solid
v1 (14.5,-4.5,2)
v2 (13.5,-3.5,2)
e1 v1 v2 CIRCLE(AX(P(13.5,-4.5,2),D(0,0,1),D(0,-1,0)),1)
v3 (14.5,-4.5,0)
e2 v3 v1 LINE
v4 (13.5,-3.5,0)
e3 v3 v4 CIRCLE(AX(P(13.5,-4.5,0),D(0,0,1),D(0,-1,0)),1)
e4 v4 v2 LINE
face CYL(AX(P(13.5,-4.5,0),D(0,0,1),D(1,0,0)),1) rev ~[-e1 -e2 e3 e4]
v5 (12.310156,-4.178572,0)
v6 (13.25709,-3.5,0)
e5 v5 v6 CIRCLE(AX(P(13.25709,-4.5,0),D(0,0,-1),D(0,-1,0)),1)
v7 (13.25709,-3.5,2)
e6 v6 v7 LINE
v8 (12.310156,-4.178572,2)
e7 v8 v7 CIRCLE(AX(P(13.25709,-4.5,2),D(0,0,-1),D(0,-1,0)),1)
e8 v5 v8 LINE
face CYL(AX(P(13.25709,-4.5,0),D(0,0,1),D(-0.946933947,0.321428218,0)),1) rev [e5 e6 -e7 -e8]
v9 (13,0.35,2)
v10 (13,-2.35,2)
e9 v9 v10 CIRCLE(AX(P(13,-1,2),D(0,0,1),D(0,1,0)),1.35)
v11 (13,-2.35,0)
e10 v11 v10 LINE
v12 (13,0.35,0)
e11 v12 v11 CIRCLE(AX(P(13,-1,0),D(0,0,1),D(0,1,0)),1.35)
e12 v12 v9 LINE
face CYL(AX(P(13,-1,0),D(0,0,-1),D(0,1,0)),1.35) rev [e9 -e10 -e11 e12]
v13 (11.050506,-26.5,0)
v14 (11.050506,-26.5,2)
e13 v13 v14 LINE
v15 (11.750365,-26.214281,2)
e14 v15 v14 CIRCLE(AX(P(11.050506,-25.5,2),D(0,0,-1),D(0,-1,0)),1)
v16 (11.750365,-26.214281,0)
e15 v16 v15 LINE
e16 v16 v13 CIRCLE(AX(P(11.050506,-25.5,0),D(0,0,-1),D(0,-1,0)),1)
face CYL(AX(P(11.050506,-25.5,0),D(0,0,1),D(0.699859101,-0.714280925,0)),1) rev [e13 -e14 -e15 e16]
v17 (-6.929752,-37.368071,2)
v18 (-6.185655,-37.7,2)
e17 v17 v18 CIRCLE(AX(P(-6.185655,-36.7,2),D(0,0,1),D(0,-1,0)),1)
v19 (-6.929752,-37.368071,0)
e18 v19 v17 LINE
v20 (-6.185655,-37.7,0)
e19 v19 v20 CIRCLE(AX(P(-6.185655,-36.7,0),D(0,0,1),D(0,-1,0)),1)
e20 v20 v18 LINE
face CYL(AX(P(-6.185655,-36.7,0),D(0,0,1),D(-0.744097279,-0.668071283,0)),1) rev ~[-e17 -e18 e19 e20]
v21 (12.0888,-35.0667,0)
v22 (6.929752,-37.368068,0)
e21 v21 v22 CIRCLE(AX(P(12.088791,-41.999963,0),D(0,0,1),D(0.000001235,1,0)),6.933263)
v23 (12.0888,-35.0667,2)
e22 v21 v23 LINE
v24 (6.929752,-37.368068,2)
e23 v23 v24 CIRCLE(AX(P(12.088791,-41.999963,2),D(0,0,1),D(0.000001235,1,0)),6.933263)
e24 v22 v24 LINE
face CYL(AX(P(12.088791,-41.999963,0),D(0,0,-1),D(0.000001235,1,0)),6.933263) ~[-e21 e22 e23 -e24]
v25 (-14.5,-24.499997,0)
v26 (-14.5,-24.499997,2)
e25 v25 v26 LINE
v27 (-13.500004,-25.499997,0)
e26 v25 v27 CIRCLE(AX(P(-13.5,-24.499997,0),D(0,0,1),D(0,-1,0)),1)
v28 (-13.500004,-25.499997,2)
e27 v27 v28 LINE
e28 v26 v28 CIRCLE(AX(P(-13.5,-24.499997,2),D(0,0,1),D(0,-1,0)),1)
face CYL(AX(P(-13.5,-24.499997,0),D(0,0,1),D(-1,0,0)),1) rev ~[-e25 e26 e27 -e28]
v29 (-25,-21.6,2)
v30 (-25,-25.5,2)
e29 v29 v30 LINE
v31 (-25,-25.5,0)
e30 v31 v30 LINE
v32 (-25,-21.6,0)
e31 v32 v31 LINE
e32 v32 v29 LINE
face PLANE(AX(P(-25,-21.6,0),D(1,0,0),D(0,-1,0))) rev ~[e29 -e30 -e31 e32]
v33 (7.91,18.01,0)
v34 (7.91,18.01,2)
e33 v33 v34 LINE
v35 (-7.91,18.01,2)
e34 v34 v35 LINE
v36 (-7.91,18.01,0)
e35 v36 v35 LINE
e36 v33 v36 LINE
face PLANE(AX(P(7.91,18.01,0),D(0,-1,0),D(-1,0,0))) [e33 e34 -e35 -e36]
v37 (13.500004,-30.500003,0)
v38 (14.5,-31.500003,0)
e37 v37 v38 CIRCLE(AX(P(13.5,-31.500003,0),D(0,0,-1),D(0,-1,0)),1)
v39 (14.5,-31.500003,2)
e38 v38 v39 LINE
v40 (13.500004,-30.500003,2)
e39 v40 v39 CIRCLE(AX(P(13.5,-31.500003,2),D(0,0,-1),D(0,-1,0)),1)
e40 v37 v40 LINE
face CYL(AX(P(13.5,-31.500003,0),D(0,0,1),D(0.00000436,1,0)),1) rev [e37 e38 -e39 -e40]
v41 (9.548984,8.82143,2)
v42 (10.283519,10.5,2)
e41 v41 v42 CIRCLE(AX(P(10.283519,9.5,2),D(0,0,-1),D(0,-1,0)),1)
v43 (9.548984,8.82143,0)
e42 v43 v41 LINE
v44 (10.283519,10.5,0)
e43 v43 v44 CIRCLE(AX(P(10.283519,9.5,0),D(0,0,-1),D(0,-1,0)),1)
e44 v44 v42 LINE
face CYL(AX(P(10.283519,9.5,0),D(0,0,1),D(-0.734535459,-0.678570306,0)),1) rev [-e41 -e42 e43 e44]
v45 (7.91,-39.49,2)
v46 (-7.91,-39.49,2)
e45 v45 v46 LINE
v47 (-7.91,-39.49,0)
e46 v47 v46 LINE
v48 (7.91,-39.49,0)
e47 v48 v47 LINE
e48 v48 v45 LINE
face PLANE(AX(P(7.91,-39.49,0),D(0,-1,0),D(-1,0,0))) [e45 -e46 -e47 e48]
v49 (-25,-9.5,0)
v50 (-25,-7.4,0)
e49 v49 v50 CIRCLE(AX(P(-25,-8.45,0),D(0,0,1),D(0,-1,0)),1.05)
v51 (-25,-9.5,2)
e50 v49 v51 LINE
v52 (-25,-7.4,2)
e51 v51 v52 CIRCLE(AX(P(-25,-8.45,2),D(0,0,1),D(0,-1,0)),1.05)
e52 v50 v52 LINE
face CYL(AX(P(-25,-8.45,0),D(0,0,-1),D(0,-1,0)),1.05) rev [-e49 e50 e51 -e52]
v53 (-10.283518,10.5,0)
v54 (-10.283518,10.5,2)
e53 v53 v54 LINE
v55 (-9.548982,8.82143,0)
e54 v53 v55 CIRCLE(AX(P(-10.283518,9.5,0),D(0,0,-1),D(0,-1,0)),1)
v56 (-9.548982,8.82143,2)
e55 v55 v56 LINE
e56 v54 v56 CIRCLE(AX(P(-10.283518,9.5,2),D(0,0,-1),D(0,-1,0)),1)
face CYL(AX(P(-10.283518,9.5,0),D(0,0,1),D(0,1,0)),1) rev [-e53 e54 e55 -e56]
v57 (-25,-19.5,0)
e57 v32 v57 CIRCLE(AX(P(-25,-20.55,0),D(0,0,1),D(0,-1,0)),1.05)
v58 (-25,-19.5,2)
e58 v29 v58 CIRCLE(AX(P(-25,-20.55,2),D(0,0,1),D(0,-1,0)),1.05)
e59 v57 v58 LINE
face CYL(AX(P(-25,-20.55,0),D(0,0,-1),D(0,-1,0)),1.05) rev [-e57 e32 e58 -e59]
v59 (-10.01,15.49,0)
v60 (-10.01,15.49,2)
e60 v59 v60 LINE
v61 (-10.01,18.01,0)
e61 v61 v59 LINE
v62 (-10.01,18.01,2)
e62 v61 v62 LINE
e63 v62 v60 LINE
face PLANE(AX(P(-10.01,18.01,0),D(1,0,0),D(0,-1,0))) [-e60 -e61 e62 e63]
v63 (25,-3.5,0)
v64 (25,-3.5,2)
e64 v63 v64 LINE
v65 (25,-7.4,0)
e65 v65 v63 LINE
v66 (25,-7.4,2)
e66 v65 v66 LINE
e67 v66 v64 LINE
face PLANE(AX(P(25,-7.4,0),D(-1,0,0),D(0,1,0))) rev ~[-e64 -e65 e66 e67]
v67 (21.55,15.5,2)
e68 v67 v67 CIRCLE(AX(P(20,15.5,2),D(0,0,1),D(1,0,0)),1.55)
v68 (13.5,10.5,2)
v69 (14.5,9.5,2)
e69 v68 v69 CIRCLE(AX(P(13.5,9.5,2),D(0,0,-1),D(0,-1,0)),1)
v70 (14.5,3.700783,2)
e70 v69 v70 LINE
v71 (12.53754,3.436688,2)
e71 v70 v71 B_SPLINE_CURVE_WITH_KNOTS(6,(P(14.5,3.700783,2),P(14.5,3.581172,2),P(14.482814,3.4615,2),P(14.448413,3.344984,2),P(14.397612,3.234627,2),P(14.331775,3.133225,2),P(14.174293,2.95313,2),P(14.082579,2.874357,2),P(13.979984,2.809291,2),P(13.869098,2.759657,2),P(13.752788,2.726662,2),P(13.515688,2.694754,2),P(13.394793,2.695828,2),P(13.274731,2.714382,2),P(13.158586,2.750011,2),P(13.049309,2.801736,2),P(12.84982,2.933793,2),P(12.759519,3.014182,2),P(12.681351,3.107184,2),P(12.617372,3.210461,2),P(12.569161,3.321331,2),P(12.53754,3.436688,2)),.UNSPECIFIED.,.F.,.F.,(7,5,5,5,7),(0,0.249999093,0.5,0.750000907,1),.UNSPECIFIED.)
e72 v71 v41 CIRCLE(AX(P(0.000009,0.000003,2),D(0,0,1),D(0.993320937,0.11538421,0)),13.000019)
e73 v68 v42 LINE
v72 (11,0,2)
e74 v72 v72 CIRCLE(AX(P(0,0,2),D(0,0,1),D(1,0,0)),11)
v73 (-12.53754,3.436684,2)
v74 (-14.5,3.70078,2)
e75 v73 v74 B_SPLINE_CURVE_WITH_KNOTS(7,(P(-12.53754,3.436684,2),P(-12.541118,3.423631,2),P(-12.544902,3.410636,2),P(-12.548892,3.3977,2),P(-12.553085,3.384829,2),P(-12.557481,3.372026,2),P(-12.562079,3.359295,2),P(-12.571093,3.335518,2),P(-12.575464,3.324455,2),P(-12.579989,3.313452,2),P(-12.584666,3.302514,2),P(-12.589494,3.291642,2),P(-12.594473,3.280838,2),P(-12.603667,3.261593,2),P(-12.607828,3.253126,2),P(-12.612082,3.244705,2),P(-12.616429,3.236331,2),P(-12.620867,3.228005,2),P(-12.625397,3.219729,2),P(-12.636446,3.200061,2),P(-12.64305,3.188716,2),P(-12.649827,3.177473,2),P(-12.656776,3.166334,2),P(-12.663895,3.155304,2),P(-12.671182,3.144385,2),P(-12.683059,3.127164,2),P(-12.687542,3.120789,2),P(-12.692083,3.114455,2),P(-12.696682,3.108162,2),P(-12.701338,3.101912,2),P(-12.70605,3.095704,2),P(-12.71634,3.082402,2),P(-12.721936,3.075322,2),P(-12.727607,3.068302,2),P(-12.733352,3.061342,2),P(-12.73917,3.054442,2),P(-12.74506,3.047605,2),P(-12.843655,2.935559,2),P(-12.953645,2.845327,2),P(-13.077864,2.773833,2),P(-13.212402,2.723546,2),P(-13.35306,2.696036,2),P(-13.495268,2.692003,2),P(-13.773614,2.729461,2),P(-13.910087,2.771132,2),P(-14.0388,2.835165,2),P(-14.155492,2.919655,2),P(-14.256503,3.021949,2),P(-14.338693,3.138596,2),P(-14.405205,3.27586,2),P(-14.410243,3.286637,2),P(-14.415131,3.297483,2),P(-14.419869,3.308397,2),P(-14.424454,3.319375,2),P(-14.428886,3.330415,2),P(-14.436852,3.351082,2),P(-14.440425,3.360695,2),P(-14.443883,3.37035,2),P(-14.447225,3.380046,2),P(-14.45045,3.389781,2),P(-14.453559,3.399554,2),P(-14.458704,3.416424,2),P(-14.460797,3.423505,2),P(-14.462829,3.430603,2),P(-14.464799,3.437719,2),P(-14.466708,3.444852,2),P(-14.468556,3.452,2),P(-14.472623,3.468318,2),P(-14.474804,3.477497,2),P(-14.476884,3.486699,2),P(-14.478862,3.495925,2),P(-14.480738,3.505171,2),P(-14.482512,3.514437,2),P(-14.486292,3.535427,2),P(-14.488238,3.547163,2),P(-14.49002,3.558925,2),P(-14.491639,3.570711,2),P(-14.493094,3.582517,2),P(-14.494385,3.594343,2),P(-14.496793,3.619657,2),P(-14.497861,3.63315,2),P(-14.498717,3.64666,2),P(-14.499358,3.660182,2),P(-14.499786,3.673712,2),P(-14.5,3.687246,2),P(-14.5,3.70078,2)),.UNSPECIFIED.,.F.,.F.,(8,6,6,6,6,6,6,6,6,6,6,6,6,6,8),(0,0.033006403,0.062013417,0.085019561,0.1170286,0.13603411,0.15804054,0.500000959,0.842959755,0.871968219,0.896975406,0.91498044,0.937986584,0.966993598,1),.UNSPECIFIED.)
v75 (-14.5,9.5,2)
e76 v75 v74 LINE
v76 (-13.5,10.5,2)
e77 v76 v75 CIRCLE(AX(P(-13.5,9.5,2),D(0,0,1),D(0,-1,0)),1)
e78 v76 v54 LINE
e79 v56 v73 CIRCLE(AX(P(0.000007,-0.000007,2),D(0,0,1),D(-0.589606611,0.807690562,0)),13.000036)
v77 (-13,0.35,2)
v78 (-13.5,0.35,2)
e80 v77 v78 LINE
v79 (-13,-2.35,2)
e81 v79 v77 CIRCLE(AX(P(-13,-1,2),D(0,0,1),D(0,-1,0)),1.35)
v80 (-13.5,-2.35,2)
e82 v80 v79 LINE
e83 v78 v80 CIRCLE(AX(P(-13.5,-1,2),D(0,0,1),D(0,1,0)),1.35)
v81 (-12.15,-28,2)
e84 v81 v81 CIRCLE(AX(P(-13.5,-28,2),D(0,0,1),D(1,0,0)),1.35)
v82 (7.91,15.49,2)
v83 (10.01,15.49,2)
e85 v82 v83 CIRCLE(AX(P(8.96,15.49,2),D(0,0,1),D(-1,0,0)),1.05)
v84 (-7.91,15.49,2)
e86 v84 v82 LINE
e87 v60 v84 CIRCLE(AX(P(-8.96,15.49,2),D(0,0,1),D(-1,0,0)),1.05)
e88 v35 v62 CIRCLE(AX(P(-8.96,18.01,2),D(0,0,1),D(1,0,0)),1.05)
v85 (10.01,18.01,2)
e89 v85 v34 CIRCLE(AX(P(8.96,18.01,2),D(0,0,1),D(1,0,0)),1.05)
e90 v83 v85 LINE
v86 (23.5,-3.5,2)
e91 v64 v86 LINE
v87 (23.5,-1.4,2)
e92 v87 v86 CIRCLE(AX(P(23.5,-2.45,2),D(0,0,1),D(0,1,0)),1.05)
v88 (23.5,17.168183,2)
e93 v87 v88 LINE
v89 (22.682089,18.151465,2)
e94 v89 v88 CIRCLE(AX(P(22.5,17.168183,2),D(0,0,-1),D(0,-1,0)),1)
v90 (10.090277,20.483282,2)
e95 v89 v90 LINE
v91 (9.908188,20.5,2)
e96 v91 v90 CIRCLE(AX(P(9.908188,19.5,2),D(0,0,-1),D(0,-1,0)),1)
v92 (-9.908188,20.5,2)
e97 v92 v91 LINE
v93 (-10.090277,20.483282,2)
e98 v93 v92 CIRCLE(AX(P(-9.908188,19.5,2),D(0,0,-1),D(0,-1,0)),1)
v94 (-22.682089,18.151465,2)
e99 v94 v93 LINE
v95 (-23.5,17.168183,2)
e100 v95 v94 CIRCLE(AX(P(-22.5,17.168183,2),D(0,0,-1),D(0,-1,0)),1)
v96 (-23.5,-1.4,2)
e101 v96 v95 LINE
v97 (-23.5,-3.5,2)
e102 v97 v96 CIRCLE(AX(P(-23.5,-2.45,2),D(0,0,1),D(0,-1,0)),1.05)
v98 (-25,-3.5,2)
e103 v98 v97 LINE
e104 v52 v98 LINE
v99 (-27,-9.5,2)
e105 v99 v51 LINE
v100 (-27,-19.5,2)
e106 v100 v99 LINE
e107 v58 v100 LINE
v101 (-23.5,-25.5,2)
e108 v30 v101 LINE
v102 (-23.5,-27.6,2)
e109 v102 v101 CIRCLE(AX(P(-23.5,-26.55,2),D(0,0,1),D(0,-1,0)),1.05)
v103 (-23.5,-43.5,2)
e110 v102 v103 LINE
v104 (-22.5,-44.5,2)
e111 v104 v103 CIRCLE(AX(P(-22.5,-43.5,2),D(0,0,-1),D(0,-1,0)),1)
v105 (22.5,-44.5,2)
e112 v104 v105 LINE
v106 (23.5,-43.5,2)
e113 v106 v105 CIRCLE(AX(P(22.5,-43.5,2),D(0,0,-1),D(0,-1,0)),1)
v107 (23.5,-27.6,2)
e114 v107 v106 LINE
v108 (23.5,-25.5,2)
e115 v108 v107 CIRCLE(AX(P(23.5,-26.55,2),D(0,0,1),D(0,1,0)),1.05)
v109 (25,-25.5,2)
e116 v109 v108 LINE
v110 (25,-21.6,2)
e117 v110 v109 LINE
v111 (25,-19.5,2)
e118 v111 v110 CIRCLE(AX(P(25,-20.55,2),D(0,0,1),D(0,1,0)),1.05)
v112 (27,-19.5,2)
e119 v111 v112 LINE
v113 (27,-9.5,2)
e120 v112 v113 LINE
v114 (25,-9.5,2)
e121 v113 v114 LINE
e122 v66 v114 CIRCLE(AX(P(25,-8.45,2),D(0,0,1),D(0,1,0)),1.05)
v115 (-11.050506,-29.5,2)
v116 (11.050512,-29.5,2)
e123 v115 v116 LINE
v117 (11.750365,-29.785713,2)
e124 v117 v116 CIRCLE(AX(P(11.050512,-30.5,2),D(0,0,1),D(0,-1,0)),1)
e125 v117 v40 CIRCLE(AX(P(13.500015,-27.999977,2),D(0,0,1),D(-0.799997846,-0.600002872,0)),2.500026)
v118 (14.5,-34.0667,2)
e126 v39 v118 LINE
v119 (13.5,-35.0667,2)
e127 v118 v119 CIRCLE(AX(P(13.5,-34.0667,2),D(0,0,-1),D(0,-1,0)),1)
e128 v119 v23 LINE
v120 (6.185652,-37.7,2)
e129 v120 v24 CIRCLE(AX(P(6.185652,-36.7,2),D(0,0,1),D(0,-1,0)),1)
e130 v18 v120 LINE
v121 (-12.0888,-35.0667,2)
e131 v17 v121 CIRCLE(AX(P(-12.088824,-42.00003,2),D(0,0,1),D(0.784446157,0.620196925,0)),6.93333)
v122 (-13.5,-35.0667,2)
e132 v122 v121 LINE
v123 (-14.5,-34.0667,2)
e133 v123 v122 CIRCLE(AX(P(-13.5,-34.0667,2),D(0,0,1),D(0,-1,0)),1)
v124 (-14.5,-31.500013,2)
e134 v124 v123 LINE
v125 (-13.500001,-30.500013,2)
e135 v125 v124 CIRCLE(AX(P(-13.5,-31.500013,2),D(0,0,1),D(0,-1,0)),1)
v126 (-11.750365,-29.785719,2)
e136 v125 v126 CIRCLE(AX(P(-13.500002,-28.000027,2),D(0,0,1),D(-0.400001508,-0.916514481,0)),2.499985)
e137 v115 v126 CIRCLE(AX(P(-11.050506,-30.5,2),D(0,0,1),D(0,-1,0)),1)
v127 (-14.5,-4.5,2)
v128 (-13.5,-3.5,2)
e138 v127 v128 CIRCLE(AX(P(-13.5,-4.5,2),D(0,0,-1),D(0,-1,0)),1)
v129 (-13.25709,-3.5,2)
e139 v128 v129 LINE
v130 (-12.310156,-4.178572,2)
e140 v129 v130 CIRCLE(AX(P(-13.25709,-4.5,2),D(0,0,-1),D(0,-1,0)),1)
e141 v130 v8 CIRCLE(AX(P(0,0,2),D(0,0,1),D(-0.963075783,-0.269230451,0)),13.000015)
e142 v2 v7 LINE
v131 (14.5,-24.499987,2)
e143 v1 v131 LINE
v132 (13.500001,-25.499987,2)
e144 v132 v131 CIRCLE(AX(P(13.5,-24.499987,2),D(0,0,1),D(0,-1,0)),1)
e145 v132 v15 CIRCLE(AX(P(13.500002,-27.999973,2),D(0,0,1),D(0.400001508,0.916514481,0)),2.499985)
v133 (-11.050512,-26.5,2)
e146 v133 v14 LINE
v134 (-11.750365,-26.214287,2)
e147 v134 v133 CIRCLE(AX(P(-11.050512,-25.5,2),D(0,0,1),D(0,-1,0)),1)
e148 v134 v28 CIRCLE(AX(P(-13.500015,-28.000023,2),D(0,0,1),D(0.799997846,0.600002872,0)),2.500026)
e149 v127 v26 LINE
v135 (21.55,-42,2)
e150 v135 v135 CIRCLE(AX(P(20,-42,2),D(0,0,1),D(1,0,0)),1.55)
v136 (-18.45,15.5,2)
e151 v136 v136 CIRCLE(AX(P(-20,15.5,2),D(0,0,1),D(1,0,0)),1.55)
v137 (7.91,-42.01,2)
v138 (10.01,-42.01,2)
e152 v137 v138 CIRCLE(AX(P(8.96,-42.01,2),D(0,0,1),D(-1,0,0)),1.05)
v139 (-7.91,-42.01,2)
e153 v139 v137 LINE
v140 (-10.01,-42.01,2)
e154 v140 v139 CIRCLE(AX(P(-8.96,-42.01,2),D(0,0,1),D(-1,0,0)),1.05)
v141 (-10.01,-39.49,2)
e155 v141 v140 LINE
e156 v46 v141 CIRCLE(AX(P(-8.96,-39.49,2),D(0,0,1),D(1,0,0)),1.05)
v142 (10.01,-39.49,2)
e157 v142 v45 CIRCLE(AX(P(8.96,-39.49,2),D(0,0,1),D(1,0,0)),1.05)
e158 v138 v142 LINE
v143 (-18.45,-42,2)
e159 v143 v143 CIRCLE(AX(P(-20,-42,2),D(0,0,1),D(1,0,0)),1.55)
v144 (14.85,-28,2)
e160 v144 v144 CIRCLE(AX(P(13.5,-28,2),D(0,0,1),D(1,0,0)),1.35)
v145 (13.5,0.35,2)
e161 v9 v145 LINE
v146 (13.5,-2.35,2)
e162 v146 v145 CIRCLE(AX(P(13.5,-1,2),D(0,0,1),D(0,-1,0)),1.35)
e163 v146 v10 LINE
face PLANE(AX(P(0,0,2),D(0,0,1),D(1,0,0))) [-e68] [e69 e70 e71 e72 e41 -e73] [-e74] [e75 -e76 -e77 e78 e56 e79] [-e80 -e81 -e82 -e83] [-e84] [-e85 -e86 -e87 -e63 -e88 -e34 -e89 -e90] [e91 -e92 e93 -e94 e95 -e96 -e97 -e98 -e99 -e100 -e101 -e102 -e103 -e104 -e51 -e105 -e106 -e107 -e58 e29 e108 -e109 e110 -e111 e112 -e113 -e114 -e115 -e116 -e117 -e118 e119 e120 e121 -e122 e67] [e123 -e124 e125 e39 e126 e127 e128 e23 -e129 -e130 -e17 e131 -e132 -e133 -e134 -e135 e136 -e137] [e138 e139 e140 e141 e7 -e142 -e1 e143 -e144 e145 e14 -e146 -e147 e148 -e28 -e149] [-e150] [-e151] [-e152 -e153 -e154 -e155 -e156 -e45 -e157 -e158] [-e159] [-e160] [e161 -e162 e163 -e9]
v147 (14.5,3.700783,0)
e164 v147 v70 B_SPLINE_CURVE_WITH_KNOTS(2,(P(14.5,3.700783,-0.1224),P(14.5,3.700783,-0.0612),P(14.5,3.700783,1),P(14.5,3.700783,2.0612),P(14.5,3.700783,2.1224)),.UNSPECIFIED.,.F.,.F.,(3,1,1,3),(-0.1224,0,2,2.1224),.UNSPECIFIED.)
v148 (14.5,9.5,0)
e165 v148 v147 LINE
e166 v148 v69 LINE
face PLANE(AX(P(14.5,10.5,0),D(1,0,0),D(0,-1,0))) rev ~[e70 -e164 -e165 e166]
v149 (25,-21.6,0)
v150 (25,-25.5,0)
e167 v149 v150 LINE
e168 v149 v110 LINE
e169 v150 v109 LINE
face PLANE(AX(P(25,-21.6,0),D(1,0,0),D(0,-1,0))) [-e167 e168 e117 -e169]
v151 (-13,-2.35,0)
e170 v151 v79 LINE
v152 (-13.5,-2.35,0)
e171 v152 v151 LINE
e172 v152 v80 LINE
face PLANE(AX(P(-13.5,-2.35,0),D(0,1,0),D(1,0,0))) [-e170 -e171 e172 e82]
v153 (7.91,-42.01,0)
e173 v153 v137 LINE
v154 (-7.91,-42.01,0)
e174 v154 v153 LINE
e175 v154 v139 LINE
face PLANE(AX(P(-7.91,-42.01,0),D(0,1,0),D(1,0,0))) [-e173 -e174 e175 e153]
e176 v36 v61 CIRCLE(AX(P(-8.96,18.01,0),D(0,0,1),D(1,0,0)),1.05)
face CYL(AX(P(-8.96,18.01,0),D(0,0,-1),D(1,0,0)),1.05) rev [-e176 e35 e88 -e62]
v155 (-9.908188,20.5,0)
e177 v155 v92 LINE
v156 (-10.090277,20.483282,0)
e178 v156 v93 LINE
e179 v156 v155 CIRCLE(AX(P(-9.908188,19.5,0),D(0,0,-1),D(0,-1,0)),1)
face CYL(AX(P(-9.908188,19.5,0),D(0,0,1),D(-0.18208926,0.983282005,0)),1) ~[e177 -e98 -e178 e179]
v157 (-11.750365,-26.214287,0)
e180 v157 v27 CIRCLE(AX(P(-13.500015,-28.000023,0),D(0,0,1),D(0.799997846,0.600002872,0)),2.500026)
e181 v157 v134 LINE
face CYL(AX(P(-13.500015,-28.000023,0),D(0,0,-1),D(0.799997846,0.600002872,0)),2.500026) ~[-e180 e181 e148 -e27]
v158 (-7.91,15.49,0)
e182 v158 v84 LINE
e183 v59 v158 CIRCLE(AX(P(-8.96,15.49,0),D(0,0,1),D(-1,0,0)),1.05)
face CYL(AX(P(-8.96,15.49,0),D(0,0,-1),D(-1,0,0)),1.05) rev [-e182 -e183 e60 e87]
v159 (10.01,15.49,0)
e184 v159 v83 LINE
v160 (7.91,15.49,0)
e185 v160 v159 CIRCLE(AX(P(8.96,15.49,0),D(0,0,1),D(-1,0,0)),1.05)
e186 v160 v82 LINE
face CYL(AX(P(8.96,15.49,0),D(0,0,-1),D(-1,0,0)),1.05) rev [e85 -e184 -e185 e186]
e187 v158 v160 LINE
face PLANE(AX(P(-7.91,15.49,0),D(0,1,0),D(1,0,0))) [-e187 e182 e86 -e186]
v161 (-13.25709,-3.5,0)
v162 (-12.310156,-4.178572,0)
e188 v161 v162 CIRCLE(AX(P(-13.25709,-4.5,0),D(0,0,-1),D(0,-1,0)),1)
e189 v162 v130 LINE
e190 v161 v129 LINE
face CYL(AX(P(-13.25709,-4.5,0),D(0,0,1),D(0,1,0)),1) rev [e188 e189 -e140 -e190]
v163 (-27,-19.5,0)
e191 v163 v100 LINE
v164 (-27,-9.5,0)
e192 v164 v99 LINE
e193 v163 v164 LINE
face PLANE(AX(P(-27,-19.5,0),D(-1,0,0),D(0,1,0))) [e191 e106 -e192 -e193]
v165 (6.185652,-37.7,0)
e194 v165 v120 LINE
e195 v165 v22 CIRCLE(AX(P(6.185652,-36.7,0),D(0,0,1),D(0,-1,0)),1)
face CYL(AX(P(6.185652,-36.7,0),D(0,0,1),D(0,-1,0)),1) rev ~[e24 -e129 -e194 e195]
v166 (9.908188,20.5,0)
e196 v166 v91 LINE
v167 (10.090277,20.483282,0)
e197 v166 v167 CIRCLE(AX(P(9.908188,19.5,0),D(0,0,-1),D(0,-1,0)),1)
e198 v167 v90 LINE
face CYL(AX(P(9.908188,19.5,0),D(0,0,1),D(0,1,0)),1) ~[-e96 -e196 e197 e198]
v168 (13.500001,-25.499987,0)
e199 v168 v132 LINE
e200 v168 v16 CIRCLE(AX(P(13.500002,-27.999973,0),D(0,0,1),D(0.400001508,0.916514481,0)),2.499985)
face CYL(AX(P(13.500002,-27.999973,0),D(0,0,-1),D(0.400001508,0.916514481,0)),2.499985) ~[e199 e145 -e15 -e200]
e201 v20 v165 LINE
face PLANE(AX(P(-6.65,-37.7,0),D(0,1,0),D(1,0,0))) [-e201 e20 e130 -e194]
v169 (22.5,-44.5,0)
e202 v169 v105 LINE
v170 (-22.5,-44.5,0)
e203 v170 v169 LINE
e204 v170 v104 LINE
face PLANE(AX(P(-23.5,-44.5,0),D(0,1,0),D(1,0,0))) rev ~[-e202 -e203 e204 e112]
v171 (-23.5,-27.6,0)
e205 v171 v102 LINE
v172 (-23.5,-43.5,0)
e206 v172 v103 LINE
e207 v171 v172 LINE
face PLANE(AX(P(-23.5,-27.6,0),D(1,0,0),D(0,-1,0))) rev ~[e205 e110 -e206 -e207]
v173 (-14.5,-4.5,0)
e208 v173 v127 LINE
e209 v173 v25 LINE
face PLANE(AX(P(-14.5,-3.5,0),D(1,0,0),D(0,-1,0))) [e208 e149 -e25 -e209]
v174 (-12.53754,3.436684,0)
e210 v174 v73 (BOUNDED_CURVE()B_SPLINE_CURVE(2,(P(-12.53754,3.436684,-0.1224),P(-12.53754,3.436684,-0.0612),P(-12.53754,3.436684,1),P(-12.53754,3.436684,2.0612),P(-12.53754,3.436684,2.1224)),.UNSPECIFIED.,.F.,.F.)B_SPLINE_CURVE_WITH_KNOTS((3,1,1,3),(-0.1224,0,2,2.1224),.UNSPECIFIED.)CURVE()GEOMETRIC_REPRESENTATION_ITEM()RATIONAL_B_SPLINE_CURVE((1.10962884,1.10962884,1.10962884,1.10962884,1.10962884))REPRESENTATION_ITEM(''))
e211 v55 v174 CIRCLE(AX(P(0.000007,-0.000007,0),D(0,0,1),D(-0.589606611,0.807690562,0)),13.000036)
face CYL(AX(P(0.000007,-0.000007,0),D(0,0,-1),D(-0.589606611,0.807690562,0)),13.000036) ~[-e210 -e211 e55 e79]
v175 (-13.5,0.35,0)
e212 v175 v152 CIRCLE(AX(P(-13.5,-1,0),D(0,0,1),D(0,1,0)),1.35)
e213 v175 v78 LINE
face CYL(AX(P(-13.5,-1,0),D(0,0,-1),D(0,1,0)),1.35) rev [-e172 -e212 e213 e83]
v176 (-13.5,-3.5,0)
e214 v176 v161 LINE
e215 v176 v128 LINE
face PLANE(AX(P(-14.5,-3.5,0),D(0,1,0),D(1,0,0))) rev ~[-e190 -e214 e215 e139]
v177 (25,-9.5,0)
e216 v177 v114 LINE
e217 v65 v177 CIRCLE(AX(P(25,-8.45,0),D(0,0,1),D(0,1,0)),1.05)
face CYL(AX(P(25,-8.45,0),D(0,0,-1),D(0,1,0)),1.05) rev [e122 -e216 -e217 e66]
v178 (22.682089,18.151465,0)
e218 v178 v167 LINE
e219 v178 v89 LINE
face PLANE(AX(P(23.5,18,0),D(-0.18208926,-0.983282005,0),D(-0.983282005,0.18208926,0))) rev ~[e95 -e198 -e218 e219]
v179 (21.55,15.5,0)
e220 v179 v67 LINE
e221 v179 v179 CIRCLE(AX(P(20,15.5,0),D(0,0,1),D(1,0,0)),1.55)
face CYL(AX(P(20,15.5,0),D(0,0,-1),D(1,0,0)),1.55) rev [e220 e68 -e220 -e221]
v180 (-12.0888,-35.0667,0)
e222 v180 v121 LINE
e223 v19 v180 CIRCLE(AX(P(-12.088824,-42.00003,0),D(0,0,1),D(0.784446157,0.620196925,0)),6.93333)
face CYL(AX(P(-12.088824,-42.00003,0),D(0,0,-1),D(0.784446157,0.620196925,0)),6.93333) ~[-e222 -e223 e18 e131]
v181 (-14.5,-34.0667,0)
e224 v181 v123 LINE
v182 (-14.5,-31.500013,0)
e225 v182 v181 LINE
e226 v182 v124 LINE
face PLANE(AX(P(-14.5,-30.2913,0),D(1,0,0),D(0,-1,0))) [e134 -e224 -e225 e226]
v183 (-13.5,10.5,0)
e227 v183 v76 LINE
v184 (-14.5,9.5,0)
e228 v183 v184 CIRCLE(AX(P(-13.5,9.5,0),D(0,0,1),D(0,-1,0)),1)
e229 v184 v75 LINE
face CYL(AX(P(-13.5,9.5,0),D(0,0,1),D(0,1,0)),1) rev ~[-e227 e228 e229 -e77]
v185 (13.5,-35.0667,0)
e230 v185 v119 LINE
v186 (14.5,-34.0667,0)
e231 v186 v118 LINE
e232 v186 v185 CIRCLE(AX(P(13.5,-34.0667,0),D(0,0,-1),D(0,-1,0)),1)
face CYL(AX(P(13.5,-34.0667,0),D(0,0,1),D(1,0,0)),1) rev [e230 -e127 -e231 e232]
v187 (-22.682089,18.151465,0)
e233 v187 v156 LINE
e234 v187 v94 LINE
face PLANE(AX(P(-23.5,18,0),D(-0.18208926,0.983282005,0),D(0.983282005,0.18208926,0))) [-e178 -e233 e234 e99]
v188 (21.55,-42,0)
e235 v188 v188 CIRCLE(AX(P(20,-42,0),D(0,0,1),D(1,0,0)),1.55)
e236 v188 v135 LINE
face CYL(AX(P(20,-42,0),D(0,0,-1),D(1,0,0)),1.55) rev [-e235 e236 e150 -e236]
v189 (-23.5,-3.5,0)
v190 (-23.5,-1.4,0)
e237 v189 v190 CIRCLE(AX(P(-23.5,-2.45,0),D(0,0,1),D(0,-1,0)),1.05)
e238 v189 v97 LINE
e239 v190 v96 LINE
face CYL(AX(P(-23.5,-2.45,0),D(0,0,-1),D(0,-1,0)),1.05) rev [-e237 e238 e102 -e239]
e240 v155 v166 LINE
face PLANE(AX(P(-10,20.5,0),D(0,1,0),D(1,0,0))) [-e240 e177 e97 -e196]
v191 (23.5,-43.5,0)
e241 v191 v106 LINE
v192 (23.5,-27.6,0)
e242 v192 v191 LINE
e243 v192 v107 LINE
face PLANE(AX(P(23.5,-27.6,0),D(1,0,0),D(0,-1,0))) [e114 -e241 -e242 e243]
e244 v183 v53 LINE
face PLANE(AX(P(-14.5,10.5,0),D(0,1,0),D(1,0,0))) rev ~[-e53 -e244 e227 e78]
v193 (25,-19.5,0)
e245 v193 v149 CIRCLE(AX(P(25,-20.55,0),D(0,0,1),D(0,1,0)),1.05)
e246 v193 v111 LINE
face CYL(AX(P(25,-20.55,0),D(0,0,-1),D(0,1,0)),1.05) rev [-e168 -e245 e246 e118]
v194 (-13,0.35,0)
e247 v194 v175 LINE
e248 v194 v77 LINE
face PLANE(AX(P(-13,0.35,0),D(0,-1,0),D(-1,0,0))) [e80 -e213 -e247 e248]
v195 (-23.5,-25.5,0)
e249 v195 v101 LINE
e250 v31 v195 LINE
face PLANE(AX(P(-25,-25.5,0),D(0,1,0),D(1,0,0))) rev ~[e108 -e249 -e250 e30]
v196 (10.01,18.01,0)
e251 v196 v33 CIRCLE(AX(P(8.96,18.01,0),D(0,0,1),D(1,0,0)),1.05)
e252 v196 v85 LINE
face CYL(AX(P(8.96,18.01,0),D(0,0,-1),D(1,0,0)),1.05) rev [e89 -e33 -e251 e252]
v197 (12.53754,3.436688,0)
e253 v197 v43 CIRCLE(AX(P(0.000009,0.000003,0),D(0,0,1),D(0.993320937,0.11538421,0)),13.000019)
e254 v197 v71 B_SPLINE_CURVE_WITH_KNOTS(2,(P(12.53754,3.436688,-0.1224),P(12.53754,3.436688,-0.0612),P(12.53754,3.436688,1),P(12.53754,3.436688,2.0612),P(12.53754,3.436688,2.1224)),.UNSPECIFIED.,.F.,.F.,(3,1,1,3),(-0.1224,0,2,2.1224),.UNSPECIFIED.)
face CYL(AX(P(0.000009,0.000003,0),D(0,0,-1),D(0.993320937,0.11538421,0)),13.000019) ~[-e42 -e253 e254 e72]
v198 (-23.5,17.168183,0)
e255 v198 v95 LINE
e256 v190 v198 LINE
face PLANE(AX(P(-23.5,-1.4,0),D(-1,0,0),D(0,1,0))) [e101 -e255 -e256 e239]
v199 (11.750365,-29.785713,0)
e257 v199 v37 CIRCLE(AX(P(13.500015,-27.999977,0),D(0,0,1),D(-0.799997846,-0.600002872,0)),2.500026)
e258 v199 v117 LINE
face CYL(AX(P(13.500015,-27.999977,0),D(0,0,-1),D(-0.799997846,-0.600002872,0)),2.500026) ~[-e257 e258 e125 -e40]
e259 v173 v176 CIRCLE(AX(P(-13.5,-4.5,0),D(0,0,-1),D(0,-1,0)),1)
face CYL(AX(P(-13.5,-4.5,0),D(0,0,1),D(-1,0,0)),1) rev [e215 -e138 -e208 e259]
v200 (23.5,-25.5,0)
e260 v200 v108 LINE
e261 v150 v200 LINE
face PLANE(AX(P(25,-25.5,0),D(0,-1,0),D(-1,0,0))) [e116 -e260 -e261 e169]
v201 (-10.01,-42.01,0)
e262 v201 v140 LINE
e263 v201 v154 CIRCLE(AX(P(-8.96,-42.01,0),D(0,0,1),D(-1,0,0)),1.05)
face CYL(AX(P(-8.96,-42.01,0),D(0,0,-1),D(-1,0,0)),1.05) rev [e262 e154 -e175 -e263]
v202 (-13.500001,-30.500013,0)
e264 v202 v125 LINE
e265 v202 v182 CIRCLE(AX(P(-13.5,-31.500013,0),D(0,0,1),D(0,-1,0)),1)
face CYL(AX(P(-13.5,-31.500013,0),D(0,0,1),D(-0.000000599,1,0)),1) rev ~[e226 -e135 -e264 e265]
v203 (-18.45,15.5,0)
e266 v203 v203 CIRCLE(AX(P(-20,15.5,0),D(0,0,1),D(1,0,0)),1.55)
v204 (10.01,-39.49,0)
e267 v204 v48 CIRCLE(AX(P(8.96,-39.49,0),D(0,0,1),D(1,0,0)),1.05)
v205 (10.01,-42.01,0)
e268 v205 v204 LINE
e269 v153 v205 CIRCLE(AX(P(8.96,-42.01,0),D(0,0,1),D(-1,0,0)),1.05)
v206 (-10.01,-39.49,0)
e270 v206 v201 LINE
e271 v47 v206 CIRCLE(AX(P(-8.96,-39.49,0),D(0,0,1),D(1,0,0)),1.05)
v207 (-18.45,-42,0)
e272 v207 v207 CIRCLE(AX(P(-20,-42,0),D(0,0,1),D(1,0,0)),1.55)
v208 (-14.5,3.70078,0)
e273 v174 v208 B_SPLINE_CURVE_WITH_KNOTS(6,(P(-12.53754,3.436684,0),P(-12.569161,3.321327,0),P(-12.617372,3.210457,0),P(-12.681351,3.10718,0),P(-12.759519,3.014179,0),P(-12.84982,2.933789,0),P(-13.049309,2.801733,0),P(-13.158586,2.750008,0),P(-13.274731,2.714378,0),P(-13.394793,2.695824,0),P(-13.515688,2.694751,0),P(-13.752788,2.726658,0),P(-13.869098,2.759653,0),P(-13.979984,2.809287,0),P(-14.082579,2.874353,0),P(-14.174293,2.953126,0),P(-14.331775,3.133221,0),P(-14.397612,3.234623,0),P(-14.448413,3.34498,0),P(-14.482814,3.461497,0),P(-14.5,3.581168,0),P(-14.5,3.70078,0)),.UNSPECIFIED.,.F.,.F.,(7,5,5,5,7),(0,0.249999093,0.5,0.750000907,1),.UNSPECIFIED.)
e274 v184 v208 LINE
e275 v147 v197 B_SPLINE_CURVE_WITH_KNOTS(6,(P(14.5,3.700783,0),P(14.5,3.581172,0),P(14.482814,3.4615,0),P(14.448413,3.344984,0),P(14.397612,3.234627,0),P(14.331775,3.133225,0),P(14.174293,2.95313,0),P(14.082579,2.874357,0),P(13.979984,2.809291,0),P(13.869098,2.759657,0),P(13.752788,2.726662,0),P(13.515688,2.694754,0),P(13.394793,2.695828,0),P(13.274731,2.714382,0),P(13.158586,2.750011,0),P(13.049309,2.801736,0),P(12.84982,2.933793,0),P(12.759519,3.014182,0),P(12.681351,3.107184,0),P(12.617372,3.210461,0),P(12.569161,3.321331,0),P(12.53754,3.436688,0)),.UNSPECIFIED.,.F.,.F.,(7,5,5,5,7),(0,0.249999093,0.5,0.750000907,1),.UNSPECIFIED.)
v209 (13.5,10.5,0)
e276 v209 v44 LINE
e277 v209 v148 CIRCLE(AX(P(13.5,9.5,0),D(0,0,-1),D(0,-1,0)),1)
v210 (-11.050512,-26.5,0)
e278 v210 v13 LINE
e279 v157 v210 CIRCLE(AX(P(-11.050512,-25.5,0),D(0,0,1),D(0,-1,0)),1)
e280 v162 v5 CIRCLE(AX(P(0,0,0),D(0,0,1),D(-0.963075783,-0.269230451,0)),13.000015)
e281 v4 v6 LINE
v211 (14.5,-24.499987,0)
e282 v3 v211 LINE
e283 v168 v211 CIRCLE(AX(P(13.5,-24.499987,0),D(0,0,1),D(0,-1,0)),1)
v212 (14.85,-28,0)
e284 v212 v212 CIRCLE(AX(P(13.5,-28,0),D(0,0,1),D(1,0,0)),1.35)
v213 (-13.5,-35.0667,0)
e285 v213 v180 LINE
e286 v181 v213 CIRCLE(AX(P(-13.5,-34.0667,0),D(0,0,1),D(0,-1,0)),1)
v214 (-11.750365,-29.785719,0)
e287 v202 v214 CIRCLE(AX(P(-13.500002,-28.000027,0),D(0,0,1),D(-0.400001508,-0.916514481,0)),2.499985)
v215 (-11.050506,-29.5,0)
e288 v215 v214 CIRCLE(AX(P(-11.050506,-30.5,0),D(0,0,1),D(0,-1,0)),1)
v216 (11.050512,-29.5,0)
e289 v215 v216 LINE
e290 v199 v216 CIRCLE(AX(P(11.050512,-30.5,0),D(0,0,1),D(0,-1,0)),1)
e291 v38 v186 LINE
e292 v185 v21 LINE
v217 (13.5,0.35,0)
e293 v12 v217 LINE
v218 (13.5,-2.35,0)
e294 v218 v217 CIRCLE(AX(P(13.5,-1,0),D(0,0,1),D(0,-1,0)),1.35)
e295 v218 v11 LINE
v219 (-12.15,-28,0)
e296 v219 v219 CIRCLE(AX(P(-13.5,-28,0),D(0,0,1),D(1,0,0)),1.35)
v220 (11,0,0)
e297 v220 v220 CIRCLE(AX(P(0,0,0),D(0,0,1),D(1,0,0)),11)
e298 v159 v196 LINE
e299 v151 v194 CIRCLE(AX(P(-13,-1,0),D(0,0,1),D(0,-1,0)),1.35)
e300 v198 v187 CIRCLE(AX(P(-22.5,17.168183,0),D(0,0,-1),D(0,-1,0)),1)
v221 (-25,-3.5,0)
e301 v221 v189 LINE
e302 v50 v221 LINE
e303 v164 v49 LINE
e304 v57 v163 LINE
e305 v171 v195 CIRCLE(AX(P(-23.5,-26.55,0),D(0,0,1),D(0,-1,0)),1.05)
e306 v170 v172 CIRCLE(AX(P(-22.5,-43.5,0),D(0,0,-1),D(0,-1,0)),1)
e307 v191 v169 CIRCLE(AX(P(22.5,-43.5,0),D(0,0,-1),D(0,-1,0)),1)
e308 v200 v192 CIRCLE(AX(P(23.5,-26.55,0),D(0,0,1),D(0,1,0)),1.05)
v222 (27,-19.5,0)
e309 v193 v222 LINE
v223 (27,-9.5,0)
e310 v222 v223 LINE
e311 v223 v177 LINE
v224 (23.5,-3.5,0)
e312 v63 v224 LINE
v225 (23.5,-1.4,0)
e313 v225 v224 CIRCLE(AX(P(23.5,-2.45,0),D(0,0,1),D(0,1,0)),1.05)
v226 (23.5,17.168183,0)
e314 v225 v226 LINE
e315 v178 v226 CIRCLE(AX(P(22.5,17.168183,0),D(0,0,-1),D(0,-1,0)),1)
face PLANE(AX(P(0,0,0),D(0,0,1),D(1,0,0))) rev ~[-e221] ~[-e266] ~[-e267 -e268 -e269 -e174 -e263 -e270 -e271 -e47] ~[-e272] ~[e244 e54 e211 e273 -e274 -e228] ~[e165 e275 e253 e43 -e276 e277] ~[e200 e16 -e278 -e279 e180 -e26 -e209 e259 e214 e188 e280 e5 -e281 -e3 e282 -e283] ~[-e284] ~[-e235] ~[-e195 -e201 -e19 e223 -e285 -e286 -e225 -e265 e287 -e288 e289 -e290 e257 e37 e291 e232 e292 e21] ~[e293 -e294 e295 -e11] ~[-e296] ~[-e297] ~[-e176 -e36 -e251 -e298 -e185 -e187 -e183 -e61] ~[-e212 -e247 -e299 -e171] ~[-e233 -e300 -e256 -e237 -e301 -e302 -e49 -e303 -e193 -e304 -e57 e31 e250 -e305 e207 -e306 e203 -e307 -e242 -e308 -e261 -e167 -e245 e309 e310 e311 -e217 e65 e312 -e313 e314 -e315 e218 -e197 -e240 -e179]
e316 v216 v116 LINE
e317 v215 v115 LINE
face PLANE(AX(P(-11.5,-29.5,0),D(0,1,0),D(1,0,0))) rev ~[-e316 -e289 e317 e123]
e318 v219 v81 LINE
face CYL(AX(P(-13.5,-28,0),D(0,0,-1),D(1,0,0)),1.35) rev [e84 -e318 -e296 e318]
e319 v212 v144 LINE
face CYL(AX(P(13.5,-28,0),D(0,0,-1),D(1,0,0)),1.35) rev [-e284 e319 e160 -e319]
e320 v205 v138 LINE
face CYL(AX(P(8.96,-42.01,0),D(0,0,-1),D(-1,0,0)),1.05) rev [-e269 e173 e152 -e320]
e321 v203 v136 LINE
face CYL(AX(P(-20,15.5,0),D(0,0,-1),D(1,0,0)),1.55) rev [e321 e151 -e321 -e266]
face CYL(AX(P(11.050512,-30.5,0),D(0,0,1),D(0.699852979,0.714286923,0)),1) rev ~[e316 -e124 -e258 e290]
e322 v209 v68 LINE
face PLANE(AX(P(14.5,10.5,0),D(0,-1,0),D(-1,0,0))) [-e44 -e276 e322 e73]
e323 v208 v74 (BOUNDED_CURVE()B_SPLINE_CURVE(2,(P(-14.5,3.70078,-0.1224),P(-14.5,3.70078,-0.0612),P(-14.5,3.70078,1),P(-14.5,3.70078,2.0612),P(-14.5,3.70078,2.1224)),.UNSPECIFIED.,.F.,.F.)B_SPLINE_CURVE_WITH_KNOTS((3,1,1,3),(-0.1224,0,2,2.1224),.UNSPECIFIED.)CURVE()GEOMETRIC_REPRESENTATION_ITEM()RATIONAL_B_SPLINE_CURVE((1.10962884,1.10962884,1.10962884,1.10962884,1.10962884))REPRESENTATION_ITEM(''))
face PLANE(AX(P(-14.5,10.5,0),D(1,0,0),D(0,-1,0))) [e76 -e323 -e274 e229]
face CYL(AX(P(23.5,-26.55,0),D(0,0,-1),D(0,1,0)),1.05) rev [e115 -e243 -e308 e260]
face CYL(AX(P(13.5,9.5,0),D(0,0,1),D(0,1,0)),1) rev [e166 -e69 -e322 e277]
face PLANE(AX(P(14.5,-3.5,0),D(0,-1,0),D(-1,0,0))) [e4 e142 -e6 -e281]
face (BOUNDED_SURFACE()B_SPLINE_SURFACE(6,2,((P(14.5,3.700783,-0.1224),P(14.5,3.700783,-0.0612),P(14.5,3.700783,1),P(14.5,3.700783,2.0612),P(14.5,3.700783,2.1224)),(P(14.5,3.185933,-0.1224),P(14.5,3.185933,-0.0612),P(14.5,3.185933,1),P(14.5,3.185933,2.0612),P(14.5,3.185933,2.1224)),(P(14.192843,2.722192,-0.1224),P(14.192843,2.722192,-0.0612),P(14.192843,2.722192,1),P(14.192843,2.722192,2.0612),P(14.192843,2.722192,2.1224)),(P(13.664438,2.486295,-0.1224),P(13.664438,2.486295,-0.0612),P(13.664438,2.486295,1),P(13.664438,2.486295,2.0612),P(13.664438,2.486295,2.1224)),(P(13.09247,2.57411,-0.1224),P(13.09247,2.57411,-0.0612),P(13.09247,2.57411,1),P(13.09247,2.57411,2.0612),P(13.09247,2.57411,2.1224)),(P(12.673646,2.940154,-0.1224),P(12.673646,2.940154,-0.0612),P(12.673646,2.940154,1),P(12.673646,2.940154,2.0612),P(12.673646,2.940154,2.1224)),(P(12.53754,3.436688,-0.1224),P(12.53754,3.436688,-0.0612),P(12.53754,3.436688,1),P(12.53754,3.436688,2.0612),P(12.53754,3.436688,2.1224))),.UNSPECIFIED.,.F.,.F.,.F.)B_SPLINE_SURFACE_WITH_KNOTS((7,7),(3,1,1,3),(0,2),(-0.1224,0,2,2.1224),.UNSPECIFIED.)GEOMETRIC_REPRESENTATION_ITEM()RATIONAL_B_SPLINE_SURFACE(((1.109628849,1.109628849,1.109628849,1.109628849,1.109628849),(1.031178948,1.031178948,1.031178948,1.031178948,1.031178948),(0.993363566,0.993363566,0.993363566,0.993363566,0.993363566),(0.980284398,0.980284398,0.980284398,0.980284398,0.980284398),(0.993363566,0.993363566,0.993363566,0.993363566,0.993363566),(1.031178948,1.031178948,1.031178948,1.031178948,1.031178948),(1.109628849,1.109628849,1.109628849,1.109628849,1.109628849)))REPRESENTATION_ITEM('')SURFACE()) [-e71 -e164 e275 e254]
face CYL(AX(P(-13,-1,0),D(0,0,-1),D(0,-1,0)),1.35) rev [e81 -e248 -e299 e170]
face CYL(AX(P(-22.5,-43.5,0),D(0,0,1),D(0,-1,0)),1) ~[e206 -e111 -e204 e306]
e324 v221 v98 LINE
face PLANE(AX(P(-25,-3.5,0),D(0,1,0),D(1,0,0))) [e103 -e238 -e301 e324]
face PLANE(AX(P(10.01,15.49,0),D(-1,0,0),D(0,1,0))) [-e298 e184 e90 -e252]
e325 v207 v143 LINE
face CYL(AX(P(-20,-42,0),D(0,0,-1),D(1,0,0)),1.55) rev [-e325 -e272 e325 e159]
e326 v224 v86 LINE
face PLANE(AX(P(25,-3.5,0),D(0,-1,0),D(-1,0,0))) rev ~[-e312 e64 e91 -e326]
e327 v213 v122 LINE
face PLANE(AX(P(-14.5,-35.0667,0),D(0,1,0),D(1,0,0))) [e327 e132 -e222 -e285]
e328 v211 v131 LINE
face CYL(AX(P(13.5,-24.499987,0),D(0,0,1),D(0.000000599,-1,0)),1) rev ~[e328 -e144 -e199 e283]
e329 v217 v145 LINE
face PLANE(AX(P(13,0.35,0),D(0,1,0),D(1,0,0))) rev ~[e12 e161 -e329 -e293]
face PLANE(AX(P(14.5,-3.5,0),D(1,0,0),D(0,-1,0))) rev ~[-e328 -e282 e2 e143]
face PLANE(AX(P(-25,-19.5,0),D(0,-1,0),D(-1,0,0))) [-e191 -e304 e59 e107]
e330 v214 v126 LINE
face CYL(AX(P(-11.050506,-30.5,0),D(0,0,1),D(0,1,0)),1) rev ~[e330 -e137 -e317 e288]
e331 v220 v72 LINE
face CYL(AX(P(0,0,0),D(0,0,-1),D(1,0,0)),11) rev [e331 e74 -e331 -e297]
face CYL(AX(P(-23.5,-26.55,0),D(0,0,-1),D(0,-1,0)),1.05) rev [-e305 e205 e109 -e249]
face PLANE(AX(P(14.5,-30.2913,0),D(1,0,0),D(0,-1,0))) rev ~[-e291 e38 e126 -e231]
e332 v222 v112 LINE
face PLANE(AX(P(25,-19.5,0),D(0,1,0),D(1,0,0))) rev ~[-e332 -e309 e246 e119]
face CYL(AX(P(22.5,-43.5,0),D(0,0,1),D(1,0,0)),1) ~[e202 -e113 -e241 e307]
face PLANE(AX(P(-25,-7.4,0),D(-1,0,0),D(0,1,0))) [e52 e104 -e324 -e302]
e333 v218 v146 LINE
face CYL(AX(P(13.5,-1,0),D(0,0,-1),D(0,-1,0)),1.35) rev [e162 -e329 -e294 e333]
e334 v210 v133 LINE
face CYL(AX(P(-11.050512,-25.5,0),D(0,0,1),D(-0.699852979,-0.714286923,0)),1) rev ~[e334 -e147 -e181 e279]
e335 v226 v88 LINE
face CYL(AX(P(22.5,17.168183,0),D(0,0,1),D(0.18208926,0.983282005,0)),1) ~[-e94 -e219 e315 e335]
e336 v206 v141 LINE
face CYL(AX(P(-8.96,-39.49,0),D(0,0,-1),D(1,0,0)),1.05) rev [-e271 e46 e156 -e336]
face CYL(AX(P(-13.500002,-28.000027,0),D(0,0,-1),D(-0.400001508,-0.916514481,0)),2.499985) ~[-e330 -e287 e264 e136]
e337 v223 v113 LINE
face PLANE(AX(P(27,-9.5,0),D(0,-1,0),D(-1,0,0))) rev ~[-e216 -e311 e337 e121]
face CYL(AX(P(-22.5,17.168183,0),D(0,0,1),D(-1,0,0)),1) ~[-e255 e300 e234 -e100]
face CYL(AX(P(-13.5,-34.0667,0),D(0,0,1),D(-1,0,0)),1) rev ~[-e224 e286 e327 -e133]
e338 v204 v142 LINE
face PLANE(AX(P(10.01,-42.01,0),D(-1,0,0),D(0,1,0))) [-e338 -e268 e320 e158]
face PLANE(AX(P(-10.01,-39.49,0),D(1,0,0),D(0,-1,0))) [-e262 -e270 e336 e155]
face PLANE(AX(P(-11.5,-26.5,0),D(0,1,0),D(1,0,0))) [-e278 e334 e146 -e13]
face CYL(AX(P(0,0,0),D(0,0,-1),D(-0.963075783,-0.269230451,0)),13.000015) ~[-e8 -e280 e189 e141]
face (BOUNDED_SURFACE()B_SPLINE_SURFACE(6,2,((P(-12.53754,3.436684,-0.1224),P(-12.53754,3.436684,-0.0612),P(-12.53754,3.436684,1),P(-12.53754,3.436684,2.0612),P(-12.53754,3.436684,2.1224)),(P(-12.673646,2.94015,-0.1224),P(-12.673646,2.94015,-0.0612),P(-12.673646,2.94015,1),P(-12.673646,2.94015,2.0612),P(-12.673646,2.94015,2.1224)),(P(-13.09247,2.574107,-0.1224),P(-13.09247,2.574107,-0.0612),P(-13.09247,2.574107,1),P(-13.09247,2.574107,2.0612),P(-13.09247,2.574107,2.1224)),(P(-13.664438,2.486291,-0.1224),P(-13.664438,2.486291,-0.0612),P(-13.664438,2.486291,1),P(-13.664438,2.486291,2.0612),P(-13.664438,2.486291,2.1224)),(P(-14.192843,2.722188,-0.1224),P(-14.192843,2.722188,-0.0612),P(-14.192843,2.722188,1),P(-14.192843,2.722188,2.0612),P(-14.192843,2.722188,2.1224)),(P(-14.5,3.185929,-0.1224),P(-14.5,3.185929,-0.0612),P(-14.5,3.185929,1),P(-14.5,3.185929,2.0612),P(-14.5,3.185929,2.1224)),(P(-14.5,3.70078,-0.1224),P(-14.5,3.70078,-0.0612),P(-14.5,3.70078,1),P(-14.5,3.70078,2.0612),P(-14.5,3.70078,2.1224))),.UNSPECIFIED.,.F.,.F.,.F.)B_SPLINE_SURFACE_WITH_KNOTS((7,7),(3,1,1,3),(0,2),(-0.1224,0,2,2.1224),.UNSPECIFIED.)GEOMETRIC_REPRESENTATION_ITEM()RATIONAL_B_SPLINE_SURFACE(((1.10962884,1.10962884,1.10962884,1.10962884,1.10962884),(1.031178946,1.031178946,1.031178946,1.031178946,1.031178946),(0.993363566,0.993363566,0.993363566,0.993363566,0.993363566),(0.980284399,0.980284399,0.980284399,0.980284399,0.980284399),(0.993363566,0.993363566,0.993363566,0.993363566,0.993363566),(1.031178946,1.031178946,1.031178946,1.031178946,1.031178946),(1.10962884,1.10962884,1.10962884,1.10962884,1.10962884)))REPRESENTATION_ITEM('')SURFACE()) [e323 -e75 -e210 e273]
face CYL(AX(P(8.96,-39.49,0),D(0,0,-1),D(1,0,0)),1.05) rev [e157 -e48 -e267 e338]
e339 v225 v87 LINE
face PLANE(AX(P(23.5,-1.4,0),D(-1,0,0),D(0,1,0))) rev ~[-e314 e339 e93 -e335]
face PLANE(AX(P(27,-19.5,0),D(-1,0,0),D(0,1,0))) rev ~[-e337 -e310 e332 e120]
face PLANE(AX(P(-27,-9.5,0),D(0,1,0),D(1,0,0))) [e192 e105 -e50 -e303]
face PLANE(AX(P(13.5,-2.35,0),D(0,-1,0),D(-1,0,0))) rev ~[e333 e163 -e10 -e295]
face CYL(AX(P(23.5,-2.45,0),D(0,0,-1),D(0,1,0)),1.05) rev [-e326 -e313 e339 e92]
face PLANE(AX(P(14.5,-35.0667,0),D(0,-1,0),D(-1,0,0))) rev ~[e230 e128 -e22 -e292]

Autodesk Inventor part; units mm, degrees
ref_plane "YZ Plane" through (0, 0, 0) normal (1, 0, 0) x (0, 1, 0)
ref_plane "XZ Plane" through (0, 0, 0) normal (0, 1, 0) x (-1, 0, 0)
ref_plane "XY Plane" through (0, 0, 0) normal (0, 0, 1) x (1, 0, 0)
sketch "スケッチ1" plane through (0, 0, 0) normal (0, 0, 1) x (1, 0, 0)
  circle A0 centre (0, 0) radius 11
  line L0 (-25, -19.5) -> (-27, -19.5)
  line L1 (-27, -19.5) -> (-27, -9.5)
  line L2 (-27, -9.5) -> (-25, -9.5)
  circle A1 centre (-13.5, -28) radius 1.35
  arc A2 (-25, -21.6) -> (-25, -19.5) centre (-25, -20.55) ccw
  arc A3 (-25, -9.5) -> (-25, -7.4) centre (-25, -8.45) ccw
  arc A4 (-7.6649, 10.5) -> (-12.9132, 1.5) centre (0, 0) ccw
  arc A5 (-12.52, -3.5) -> (12.52, -3.5) centre (0, 0) ccw
  arc A6 (-11.5, -26.5) -> (-14.5, -25.7087) centre (-13.5, -28) ccw
  line L3 (-14.5, 10.5) -> (-7.6649, 10.5)
  line L4 (-14.5, 10.5) -> (-14.5, 1.5)
  line L5 (-14.5, 1.5) -> (-12.9132, 1.5)
  line L6 (-14.5, -3.5) -> (-12.52, -3.5)
  line L7 (-14.5, -3.5) -> (-14.5, -25.7087)
  line L8 (-35, -44.5) -> (35, -44.5) construction
  line L9 (35, -44.5) -> (35, -39.5) construction
  line L10 (35, -39.5) -> (-35, -39.5) construction
  line L11 (-35, -39.5) -> (-35, -44.5) construction
  line L12 (-35, -44.5) -> (35, -39.5) construction
  line L13 (35, -44.5) -> (-35, -39.5) construction
  line L14 (-35, -42) -> (35, -42) construction
  line L15 (0, -44.5) -> (0, 20.5) construction
  line L16 (-10, 20.5) -> (10, 20.5)
  line L17 (-23.5, -44.5) -> (23.5, -44.5)
  line L18 (-13.5, -1) -> (0, -1) construction
  line L19 (-13.5, -28) -> (-13.5, -1) construction
  circle A7 centre (-20, -42) radius 1.55
  line L20 (-10, -42) -> (10, -42) construction
  line L21 (10, -42) -> (10, -39.5) construction
  line L22 (-10, -39.5) -> (-10, -42) construction
  line L23 (-10, -42) -> (10, -39.5) construction
  line L24 (10, -42) -> (-10, -39.5) construction
  line L25 (-23.5, 18) -> (-10, 20.5)
  line L26 (-10.01, -42.01) -> (10.01, -42.01)
  line L27 (10.01, -42.01) -> (10.01, -39.49)
  line L28 (10.01, -39.49) -> (-10.01, -39.49)
  line L29 (-10.01, -39.49) -> (-10.01, -42.01)
  line L30 (-10.01, -42.01) -> (10.01, -39.49) construction
  line L31 (10.01, -42.01) -> (-10.01, -39.49) construction
  line L32 (-10.01, -40.75) -> (10.01, -40.75) construction
  arc A8 (-10.01, -42.01) -> (-7.91, -42.01) centre (-8.96, -42.01) ccw
  arc A9 (-7.91, -39.49) -> (-10.01, -39.49) centre (-8.96, -39.49) ccw
  line L33 (-35, 13) -> (35, 13) construction
  line L34 (35, 13) -> (35, 18) construction
  line L35 (35, 18) -> (-35, 18) construction
  line L36 (-35, 18) -> (-35, 13) construction
  line L37 (-35, 13) -> (35, 18) construction
  line L38 (35, 13) -> (-35, 18) construction
  line L39 (-35, 15.5) -> (35, 15.5) construction
  circle A10 centre (-20, 15.5) radius 1.55
  line L40 (-10, 15.5) -> (10, 15.5) construction
  line L41 (10, 15.5) -> (10, 18) construction
  line L42 (-10, 18) -> (-10, 15.5) construction
  line L43 (-10, 15.5) -> (10, 18) construction
  line L44 (10, 15.5) -> (-10, 18) construction
  line L45 (-10.01, 15.49) -> (10.01, 15.49)
  line L46 (10.01, 15.49) -> (10.01, 18.01)
  line L47 (10.01, 18.01) -> (-10.01, 18.01)
  line L48 (-10.01, 18.01) -> (-10.01, 15.49)
  line L49 (-10.01, 15.49) -> (10.01, 18.01) construction
  line L50 (10.01, 15.49) -> (-10.01, 18.01) construction
  line L51 (-10.01, 16.75) -> (10.01, 16.75) construction
  arc A11 (-10.01, 15.49) -> (-7.91, 15.49) centre (-8.96, 15.49) ccw
  arc A12 (-7.91, 18.01) -> (-10.01, 18.01) centre (-8.96, 18.01) ccw
  circle A13 centre (13.5, -28) radius 1.35
  arc A14 (12.9132, 1.5) -> (7.6649, 10.5) centre (0, 0) ccw
  line L52 (14.5, 1.5) -> (12.9132, 1.5)
  line L53 (14.5, 10.5) -> (14.5, 1.5)
  line L54 (14.5, 10.5) -> (7.6649, 10.5)
  line L55 (14.5, -3.5) -> (12.52, -3.5)
  circle A15 centre (20, -42) radius 1.55
  line L56 (23.5, 18) -> (10, 20.5)
  arc A16 (7.91, -42.01) -> (10.01, -42.01) centre (8.96, -42.01) ccw
  arc A17 (10.01, -39.49) -> (7.91, -39.49) centre (8.96, -39.49) ccw
  arc A18 (10.01, 18.01) -> (7.91, 18.01) centre (8.96, 18.01) ccw
  arc A19 (7.91, 15.49) -> (10.01, 15.49) centre (8.96, 15.49) ccw
  circle A20 centre (20, 15.5) radius 1.55
  circle A21 centre (-13.5, -1) radius 2.5 construction
  line L57 (-23.5, -28) -> (0, -28) construction
  line L58 (-11.5, -26.5) -> (11.5, -26.5)
  arc A22 (-14.5, -30.2913) -> (-11.5, -29.5) centre (-13.5, -28) ccw
  line L59 (-11.5, -29.5) -> (11.5, -29.5)
  line L60 (-14.5, -30.2913) -> (-14.5, -35.0667)
  line L61 (-14.5, -35.0667) -> (-12.0888, -35.0667)
  line L62 (-6.65, -37.7) -> (6.65, -37.7)
  line L63 (-14.5, -31) -> (0, -31) construction
  arc A23 (-6.65, -37.7) -> (-12.0888, -35.0667) centre (-12.0888, -42) ccw
  line L64 (14.5, -35.0667) -> (12.0888, -35.0667)
  arc A24 (12.0888, -35.0667) -> (6.65, -37.7) centre (12.0888, -42) ccw
  line L65 (-27, -14.5) -> (-13.5, -14.5) construction
  arc A25 (-13, -2.35) -> (-13, 0.35) centre (-13, -1) ccw
  line L66 (-13.5, -2.35) -> (-13, -2.35)
  line L67 (-13, 0.35) -> (-13.5, 0.35)
  arc A26 (-13.5, 0.35) -> (-13.5, -2.35) centre (-13.5, -1) ccw
  arc A27 (13, 0.35) -> (13, -2.35) centre (13, -1) ccw
  line L68 (13.5, -2.35) -> (13, -2.35)
  line L69 (13, 0.35) -> (13.5, 0.35)
  arc A28 (13.5, -2.35) -> (13.5, 0.35) centre (13.5, -1) ccw
  line L70 (-25, -21.6) -> (-25, -25.5)
  line L71 (-25, -25.5) -> (-23.5, -25.5)
  line L72 (-23.5, -27.6) -> (-23.5, -44.5)
  arc A29 (-23.5, -27.6) -> (-23.5, -25.5) centre (-23.5, -26.55) ccw
  line L73 (-25, -7.4) -> (-25, -3.5)
  line L74 (-25, -3.5) -> (-23.5, -3.5)
  arc A30 (-23.5, -3.5) -> (-23.5, -1.4) centre (-23.5, -2.45) ccw
  line L75 (-23.5, -1.4) -> (-23.5, 18)
  line L76 (25, -19.5) -> (27, -19.5)
  line L77 (27, -19.5) -> (27, -9.5)
  line L78 (27, -9.5) -> (25, -9.5)
  arc A31 (25, -19.5) -> (25, -21.6) centre (25, -20.55) ccw
  arc A32 (25, -7.4) -> (25, -9.5) centre (25, -8.45) ccw
  line L79 (25, -21.6) -> (25, -25.5)
  line L80 (23.5, -27.6) -> (23.5, -44.5)
  arc A33 (23.5, -25.5) -> (23.5, -27.6) centre (23.5, -26.55) ccw
  line L81 (25, -3.5) -> (23.5, -3.5)
  arc A34 (23.5, -1.4) -> (23.5, -3.5) centre (23.5, -2.45) ccw
  line L82 (25, -7.4) -> (25, -3.5)
  line L83 (23.5, -1.4) -> (23.5, 18)
  line L84 (25, -25.5) -> (23.5, -25.5)
  line L85 (14.5, -3.5) -> (14.5, -25.7087)
  arc A35 (14.5, -25.7087) -> (11.5, -26.5) centre (13.5, -28) ccw
  arc A36 (11.5, -29.5) -> (14.5, -30.2913) centre (13.5, -28) ccw
  line L86 (14.5, -30.2913) -> (14.5, -35.0667)
  point P0 (0, -42)
  point P1 (0, -40.75)
  point P2 (0, -42)
  point P3 (0, 15.5)
  point P4 (0, 16.75)
  point P5 (0, 15.5)
  point P6 (0, 15.5)
  point P7 (0, 16.75)
  point P8 (7.91, -42.01)
  point P9 (7.91, 15.49)
  point P10 (7.91, 18.01)
  point P11 (-15, -30)
  point P12 (-15, -26)
  dimension "d0" = 22
  dimension "d38" = 2
  dimension "d39" = 10
  dimension "d151" = 1.05
  dimension "d152" = 1.05
  dimension "d171" = 70
  dimension "d172" = 5
  dimension "d173" = 1
  dimension "d176" = 20
  dimension "d177" = 2.5
  dimension "d178" = 2
  dimension "d179" = 2
  dimension "d180" = 1.05
  dimension "d181" = 0.01
  dimension "d182" = 0.01
  dimension "d183" = 3.1
  dimension "d184" = 70
  dimension "d185" = 5
  dimension "d186" = 20
  dimension "d187" = 2.5
  dimension "d188" = 1.05
  dimension "d189" = 0.01
  dimension "d190" = 0.01
  dimension "d191" = 3.1
  dimension "d192" = 52.5
  dimension "d193" = 2.5
  dimension "d194" = 13
  dimension "d195" = 40
  dimension "d196" = 40
  dimension "d199" = 2.7
  dimension "d200" = 2.5
  dimension "d201" = 2.5
  dimension "d204" = 5
  dimension "d206" = 3
  dimension "d207" = 4.0667
  dimension "d208" = 6.7
  dimension "d211" = 13.3
  dimension "d213" = 2.7
  dimension "d214" = 27
  dimension "d215" = 0.5
  dimension "d218" = 1.05
  dimension "d219" = 1.5
  dimension "d220" = 50
  dimension "d221" = 2.5
  dimension "d222" = 27
  dimension "d223" = 3
  dimension "d224" = 22
extrude "押し出し1" add sketch "スケッチ1" along normal blind 2
fillet "フィレット1" radius 1 6 edges at (-23.5, -44.5, 1) (23.5, -44.5, 1) (23.5, 18, 1) (-23.5, 18, 1) (-10, 20.5, 1) (10, 20.5, 1)
fillet "フィレット2" radius 1 24 edges at (-14.5, -35.0667, 1) (-6.65, -37.7, 1) (6.65, -37.7, 1) (-11.5, -26.5, 1) (-11.5, -29.5, 1) (-14.5, -3.5, 1) (-12.52, -3.5, 1) (-12.9132, 1.5, 1) (-14.5, 1.5, 1) (12.52, -3.5, 1) (14.5, 1.5, 1) (12.9132, 1.5, 1) (-7.6649, 10.5, 1) (-14.5, 10.5, 1) (7.6649, 10.5, 1) (14.5, 10.5, 1) (-14.5, -30.2913, 1) (-14.5, -25.7087, 1) (14.5, -25.7087, 1) (14.5, -30.2913, 1) (14.5, -35.0667, 1) (11.5, -29.5, 1) (11.5, -26.5, 1) (14.5, -3.5, 1)
properties part number "Trunk_chest_horizontal_frame" material "アルミニウム 2014-T4"
